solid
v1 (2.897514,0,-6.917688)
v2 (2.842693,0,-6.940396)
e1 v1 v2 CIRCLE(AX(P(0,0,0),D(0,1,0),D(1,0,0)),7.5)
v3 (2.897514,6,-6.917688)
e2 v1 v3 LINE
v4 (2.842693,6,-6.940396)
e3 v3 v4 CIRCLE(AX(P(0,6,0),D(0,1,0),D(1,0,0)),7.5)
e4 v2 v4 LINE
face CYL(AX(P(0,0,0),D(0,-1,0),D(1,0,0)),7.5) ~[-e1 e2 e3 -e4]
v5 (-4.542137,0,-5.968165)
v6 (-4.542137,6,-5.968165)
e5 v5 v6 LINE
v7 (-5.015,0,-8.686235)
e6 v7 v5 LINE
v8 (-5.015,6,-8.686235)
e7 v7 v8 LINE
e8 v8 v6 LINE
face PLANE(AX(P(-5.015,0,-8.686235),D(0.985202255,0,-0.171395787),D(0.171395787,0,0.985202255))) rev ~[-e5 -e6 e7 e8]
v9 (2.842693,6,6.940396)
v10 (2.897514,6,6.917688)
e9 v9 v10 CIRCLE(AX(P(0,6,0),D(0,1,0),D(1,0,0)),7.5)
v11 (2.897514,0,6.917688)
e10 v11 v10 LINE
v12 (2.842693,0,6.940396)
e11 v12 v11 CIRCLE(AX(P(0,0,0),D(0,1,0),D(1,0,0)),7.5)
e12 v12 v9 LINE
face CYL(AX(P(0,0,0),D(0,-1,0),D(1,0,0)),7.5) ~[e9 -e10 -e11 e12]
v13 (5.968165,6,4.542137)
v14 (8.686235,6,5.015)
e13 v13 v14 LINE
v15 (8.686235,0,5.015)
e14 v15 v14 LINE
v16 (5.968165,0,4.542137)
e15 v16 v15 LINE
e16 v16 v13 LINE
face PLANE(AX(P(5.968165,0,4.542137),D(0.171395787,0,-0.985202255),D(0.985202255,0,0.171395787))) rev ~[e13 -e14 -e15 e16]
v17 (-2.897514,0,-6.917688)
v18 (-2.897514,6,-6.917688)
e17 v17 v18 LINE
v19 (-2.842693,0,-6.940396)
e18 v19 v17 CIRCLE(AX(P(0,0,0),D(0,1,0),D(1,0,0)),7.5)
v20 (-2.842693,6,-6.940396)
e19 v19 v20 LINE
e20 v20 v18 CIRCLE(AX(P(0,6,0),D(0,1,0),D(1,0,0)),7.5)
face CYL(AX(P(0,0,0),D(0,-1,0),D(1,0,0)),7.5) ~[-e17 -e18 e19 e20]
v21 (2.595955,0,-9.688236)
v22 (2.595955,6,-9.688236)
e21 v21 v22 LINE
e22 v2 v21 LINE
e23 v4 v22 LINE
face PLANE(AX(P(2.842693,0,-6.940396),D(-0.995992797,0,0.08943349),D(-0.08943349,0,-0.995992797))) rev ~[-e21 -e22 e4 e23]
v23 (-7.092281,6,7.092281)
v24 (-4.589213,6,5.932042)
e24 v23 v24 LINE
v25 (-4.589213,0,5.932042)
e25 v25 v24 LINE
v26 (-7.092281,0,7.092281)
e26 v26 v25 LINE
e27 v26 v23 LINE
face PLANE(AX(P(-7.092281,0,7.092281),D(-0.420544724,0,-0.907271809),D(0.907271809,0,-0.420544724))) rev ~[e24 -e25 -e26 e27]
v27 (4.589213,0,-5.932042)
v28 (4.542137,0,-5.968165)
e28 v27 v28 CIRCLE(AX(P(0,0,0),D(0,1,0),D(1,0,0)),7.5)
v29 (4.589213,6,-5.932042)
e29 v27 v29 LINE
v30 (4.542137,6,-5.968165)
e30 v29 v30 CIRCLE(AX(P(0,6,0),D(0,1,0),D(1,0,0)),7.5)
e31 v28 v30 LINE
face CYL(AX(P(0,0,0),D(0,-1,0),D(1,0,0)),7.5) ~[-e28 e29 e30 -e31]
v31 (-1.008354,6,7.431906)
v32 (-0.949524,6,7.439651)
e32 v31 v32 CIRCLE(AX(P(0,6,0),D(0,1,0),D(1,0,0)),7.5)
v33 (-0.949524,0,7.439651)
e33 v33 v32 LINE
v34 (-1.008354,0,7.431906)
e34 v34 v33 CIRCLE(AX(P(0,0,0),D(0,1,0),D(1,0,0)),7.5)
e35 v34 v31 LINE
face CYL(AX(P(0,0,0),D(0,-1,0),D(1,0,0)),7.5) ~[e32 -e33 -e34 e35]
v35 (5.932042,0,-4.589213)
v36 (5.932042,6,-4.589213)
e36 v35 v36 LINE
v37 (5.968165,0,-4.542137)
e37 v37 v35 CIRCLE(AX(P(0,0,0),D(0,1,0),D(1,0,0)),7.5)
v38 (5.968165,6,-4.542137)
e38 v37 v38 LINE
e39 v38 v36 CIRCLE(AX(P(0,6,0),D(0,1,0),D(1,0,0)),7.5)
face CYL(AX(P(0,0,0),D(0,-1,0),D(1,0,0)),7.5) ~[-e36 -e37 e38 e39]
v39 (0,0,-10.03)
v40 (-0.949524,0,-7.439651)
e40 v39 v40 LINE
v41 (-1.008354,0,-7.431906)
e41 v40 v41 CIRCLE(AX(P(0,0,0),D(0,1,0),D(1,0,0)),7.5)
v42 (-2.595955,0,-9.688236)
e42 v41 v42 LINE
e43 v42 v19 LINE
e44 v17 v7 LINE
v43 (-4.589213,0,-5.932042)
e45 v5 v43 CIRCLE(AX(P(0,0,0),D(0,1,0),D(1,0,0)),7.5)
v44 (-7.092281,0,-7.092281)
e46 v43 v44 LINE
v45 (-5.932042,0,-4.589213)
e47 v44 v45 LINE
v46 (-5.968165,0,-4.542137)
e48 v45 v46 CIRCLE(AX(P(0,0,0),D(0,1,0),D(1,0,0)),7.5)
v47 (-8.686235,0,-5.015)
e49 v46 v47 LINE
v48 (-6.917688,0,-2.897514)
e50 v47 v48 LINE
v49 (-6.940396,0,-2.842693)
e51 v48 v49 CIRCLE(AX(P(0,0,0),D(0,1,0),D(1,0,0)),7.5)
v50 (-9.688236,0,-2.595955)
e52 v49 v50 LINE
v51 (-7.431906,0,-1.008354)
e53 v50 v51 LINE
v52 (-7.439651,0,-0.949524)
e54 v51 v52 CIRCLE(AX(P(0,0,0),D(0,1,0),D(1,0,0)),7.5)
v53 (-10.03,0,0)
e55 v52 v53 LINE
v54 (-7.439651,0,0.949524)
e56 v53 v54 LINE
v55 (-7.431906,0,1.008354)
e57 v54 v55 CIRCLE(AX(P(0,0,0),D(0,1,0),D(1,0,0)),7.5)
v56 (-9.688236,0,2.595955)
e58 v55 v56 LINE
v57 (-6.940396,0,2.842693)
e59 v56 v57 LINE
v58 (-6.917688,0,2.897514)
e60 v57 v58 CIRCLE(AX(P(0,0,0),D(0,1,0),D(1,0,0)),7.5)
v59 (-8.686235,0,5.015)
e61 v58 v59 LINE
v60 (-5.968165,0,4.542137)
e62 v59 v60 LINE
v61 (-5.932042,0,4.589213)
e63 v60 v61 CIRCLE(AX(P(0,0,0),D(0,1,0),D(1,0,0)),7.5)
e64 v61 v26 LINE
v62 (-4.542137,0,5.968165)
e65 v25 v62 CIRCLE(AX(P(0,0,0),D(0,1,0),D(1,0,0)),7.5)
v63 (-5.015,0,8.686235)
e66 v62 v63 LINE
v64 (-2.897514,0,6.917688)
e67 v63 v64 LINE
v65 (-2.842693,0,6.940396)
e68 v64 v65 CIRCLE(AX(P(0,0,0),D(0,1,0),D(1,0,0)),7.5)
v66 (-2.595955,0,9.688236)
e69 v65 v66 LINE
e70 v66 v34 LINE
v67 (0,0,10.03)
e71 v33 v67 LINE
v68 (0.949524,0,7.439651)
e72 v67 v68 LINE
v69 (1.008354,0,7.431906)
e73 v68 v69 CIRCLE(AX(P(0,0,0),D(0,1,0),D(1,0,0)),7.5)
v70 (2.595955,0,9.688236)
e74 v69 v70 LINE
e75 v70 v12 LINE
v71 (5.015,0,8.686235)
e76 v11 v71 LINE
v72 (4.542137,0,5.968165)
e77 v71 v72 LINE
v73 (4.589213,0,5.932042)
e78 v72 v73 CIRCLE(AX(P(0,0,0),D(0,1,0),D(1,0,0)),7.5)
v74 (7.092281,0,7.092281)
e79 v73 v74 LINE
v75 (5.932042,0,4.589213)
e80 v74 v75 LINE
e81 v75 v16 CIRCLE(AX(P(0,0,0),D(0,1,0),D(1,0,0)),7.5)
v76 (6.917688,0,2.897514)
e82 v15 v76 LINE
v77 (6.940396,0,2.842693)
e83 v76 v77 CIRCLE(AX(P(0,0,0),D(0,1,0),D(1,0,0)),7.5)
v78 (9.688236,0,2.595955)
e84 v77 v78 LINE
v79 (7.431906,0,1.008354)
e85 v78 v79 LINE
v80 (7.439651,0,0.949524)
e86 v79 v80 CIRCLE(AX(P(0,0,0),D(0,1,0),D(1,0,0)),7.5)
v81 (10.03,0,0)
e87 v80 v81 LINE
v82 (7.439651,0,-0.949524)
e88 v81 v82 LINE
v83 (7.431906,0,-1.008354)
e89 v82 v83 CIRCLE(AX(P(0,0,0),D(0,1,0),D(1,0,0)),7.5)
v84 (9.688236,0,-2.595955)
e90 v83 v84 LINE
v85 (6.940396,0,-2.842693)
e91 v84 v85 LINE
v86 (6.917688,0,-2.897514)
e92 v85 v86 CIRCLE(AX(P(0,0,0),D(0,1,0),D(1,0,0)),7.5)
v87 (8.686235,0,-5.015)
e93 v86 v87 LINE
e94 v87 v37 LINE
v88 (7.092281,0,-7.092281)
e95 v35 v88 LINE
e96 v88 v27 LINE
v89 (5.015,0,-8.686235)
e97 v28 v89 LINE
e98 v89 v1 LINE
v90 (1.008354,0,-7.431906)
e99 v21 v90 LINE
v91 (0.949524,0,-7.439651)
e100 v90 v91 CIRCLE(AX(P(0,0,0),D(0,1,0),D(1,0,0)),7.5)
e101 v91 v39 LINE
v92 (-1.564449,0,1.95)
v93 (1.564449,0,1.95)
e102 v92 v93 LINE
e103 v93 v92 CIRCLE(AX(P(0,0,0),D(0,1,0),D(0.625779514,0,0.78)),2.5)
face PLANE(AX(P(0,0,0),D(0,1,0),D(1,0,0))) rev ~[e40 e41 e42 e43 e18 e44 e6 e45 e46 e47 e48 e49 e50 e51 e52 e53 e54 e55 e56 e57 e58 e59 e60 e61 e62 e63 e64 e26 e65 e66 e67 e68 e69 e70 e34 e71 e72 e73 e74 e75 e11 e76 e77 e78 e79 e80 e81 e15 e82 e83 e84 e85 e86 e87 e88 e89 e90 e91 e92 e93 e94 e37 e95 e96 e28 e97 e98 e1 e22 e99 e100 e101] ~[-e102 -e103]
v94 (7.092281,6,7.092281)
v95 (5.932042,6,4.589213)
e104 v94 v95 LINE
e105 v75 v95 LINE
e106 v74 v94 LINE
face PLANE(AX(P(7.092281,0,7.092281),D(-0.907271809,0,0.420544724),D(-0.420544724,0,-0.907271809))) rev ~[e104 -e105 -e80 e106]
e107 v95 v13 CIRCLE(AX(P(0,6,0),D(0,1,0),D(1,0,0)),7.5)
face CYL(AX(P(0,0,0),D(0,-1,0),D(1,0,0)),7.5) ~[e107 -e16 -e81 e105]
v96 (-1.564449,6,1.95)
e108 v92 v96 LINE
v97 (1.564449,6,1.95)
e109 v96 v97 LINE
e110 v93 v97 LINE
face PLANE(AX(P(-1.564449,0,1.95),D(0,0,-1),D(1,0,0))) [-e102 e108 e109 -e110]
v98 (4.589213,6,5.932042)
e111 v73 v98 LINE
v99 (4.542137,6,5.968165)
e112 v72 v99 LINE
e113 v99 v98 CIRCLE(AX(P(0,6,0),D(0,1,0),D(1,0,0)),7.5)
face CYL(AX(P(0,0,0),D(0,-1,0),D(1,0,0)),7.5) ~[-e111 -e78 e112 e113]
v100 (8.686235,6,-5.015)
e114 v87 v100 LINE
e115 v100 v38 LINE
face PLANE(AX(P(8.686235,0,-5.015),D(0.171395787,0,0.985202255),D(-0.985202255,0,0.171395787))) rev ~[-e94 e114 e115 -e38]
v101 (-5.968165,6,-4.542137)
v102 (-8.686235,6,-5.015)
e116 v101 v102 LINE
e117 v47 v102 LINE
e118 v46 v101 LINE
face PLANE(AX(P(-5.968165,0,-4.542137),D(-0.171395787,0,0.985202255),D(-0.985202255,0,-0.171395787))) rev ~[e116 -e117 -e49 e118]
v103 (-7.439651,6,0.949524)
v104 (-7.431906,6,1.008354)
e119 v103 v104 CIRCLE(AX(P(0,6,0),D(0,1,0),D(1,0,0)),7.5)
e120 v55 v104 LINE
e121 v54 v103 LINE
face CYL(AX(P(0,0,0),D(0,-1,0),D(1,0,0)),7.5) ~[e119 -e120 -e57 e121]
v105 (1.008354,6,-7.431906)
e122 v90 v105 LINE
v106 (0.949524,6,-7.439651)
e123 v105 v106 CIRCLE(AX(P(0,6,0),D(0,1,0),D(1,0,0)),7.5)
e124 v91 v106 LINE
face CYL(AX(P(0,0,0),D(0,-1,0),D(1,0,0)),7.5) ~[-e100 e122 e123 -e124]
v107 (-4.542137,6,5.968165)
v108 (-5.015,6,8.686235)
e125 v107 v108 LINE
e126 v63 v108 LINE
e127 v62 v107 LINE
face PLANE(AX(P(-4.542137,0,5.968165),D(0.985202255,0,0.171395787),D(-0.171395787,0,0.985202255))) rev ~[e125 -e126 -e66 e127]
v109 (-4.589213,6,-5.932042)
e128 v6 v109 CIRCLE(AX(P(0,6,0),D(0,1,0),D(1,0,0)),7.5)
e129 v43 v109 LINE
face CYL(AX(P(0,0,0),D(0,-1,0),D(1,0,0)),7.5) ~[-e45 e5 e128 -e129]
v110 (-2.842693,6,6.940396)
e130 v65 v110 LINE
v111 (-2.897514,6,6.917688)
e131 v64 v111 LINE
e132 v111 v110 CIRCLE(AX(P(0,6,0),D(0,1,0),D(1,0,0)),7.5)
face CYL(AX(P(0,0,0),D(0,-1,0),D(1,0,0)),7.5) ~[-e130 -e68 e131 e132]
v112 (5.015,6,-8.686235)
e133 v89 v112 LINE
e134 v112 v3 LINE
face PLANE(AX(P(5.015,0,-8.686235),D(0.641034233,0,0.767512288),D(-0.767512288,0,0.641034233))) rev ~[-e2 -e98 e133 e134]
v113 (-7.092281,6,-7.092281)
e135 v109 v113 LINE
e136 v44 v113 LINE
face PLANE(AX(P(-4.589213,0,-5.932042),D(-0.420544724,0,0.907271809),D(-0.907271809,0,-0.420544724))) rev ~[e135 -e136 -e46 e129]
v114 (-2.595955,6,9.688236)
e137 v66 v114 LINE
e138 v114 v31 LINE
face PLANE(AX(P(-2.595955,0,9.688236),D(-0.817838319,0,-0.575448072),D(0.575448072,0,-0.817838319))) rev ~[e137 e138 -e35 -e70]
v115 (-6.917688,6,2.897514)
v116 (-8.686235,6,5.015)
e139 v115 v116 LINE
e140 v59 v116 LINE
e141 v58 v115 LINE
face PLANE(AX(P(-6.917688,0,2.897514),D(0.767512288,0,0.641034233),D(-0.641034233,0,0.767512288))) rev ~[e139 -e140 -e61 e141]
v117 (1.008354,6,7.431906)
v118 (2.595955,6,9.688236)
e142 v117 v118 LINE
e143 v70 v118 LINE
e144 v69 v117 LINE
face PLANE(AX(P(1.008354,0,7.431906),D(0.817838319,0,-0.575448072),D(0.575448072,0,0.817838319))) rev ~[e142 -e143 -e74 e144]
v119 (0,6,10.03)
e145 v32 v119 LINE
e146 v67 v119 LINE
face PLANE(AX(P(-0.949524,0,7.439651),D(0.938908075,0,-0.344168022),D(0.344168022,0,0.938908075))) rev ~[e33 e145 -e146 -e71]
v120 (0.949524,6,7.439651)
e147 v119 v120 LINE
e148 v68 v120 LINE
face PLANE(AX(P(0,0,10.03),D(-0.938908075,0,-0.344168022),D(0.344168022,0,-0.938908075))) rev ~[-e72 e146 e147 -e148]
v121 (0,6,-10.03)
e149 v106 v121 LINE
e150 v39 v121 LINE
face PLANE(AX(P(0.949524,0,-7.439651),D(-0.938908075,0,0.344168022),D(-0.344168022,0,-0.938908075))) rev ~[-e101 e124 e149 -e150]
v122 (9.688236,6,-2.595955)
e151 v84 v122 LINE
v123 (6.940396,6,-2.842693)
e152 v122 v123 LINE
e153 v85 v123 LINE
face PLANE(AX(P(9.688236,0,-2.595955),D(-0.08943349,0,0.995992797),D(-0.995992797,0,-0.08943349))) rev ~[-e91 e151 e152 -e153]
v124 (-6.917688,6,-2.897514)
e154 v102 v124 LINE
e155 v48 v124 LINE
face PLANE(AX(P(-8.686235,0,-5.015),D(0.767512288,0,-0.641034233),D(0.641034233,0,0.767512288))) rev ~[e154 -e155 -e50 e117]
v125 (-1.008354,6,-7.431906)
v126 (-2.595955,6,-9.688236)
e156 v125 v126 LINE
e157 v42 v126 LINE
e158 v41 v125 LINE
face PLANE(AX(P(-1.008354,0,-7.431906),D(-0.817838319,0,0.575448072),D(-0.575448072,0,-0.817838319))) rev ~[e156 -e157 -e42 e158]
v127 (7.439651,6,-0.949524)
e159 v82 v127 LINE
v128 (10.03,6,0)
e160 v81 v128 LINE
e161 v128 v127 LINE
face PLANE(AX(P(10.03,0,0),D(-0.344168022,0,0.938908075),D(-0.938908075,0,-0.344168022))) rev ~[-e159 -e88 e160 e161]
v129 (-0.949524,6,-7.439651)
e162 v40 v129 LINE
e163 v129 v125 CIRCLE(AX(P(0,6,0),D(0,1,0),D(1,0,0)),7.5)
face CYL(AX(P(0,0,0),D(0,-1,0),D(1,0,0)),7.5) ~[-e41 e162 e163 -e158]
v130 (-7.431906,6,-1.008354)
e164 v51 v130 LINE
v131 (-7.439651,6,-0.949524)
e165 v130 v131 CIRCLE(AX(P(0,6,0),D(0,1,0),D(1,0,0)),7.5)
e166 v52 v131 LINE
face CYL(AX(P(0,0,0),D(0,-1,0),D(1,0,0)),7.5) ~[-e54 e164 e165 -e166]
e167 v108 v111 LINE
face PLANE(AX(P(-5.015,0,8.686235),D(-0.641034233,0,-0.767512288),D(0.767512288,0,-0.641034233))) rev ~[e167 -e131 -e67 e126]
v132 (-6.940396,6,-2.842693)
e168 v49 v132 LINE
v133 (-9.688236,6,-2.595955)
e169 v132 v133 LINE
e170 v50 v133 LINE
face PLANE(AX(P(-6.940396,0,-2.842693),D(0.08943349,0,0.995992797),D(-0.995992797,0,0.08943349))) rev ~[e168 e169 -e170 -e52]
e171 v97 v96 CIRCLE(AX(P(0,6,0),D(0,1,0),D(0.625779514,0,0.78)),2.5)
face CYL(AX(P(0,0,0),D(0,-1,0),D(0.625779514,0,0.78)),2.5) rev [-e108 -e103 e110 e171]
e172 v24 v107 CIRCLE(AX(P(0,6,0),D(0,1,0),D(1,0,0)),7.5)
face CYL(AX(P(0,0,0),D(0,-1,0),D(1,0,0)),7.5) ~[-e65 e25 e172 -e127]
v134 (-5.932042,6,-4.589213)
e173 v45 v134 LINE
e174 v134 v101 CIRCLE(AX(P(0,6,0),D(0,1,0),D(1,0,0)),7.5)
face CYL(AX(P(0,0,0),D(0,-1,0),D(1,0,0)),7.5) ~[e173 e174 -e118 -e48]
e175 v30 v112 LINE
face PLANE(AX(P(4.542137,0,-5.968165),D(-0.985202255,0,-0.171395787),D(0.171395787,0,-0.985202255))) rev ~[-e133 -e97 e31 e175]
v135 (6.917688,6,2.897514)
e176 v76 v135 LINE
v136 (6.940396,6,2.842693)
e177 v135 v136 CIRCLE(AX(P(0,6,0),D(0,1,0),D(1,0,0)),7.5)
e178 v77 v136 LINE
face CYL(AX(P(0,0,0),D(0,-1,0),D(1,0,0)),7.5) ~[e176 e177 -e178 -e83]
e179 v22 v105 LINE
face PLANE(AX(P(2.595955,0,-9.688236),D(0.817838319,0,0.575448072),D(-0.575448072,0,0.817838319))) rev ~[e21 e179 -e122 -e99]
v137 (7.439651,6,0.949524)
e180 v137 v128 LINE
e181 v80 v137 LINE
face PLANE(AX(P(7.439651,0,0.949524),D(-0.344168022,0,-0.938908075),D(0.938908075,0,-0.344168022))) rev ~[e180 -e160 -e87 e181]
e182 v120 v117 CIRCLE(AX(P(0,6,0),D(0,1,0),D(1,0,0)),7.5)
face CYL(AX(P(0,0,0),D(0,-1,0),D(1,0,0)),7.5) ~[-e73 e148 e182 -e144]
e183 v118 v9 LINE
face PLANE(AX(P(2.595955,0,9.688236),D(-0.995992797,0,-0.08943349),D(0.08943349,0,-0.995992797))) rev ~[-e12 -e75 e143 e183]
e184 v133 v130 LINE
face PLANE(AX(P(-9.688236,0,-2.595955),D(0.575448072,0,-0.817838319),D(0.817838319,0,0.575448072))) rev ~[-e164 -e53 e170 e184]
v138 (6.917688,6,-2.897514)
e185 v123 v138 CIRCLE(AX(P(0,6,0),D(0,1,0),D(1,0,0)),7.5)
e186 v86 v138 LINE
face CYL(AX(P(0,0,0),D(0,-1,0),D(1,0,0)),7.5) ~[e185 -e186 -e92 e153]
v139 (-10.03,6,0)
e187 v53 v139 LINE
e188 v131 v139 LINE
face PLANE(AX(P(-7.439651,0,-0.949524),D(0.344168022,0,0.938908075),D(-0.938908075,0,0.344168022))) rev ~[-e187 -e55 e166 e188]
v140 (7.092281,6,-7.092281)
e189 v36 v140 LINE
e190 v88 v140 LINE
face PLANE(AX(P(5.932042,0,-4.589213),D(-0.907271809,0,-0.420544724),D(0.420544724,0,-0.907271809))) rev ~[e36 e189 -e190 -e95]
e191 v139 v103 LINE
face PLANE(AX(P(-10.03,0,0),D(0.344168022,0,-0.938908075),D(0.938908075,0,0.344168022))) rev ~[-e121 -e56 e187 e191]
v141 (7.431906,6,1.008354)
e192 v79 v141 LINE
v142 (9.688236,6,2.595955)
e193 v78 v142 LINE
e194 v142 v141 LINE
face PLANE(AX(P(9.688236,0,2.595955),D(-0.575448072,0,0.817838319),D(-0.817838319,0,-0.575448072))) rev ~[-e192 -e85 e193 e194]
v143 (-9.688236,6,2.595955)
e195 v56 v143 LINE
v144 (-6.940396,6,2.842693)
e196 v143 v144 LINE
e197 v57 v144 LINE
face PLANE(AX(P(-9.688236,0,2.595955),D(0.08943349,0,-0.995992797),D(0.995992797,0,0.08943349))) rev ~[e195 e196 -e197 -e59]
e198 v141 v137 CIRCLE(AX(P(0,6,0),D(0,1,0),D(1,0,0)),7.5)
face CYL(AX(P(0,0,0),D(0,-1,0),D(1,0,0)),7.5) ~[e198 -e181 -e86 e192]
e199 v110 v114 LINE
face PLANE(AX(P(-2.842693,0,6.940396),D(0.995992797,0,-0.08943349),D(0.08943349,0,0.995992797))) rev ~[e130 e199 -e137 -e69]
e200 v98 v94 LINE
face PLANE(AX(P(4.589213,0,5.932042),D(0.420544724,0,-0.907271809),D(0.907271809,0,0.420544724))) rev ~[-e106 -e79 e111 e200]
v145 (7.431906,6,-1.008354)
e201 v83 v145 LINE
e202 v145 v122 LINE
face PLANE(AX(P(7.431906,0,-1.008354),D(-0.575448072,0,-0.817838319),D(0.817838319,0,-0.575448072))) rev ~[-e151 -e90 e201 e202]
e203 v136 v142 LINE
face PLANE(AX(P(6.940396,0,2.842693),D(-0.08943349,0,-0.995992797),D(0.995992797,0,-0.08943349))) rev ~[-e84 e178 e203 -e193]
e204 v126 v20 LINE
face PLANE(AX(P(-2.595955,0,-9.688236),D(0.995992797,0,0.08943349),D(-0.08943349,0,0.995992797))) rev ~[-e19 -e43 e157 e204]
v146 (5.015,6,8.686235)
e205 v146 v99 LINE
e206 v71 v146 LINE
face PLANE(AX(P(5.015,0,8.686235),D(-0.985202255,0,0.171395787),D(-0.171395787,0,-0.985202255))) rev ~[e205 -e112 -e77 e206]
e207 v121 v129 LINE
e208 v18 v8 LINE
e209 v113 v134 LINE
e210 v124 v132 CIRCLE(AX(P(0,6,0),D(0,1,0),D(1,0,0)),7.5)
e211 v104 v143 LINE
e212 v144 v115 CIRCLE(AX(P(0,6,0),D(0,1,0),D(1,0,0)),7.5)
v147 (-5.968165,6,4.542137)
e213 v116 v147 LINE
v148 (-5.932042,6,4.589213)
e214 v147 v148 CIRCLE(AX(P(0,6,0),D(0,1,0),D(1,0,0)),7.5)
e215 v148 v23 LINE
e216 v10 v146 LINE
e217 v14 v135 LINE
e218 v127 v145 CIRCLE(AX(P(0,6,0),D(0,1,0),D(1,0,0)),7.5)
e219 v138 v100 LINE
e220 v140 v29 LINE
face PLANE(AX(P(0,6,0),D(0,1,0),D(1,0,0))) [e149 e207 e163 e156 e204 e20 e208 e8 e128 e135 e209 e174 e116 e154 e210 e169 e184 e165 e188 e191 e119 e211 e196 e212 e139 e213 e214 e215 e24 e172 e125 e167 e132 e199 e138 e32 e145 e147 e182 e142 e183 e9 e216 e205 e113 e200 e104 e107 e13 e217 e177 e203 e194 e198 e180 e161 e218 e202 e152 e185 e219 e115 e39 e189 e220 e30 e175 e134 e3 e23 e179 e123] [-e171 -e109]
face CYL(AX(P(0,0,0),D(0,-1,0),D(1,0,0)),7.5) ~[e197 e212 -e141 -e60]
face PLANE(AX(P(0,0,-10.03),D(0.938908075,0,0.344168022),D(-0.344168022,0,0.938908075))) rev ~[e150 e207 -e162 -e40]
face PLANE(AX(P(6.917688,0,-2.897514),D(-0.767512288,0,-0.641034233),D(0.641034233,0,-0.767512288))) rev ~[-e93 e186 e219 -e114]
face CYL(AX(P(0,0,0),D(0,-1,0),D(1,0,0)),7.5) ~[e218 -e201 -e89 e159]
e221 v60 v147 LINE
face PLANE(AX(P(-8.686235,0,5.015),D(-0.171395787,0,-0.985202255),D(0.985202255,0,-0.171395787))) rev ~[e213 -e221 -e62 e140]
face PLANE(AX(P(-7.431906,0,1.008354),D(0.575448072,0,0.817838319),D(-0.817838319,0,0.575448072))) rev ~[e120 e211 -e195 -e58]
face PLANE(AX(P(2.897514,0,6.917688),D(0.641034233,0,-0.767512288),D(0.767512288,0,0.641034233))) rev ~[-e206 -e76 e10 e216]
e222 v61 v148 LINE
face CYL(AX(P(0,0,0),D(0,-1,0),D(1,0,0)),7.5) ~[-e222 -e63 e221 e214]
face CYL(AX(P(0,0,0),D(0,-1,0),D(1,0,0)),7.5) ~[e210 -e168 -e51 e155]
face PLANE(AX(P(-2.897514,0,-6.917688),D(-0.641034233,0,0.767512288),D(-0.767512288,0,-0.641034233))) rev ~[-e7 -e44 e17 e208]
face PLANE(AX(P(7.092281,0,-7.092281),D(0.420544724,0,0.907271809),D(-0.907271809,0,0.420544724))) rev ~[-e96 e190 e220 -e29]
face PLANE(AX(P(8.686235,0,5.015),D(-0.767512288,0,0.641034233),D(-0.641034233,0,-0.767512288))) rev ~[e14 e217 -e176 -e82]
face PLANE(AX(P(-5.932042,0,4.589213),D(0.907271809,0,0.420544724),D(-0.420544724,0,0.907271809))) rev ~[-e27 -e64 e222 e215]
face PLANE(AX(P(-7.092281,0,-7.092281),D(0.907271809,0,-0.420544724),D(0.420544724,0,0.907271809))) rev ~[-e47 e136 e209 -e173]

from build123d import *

# Parameters (mm, degrees)
SKETCH_1_R      = 7.5
EXTRUDE_2_DEPTH = 6


with BuildPart() as part:
    # Эскиз1 → Бобышка-Вытянуть2 (new body)
    # profile 1 of 25: a face of its own
    with BuildSketch(Plane(origin=(0, 0, 0), x_dir=(1, 0, 0), z_dir=(0, 1, 0))):
        Circle(SKETCH_1_R)
        with BuildLine():
            Line((-1.564448785, -1.95), (1.564448785, -1.95))
            ThreePointArc((1.564448785, -1.95), (0, 2.5), (-1.564448785, -1.95))
        make_face(mode=Mode.SUBTRACT)
    # profile 2 of 25: a face of its own
    with BuildSketch(Plane(origin=(0, 0, 0), x_dir=(1, 0, 0), z_dir=(0, 1, 0))):
        with BuildLine():
            Line((0, 10.03), (-0.949523561, 7.439650866))
            ThreePointArc((-0.949523561, 7.439650866), (0, 7.5), (0.949523561, 7.439650866))
            Line((0.949523561, 7.439650866), (0, 10.03))
        make_face()
    # profile 3 of 25: a face of its own
    with BuildSketch(Plane(origin=(0, 0, 0), x_dir=(1, 0, 0), z_dir=(0, 1, 0))):
        with BuildLine():
            ThreePointArc((-2.842692663, 6.940396129), (-1.941142838, 7.244443697), (-1.008354003, 7.431905691))
            Line((-1.008354003, 7.431905691), (-2.595955022, 9.688236038))
            Line((-2.595955022, 9.688236038), (-2.842692663, 6.940396129))
        make_face()
    # profile 4 of 25: a face of its own
    with BuildSketch(Plane(origin=(0, 0, 0), x_dir=(1, 0, 0), z_dir=(0, 1, 0))):
        with BuildLine():
            ThreePointArc((-4.542136958, 5.968164865), (-3.75, 6.495190528), (-2.897513908, 6.917688426))
            Line((-2.897513908, 6.917688426), (-5.015, 8.6862348))
            Line((-5.015, 8.6862348), (-4.542136958, 5.968164865))
        make_face()
    # profile 5 of 25: a face of its own
    with BuildSketch(Plane(origin=(0, 0, 0), x_dir=(1, 0, 0), z_dir=(0, 1, 0))):
        with BuildLine():
            ThreePointArc((-5.932042126, 4.589213028), (-5.303300859, 5.303300859), (-4.589213028, 5.932042126))
            Line((-4.589213028, 5.932042126), (-7.092281015, 7.092281015))
            Line((-7.092281015, 7.092281015), (-5.932042126, 4.589213028))
        make_face()
    # profile 6 of 25: a face of its own
    with BuildSketch(Plane(origin=(0, 0, 0), x_dir=(1, 0, 0), z_dir=(0, 1, 0))):
        with BuildLine():
            ThreePointArc((-6.917688426, 2.897513908), (-6.495190528, 3.75), (-5.968164865, 4.542136958))
            Line((-5.968164865, 4.542136958), (-8.6862348, 5.015))
            Line((-8.6862348, 5.015), (-6.917688426, 2.897513908))
        make_face()
    # profile 7 of 25: a face of its own
    with BuildSketch(Plane(origin=(0, 0, 0), x_dir=(1, 0, 0), z_dir=(0, 1, 0))):
        with BuildLine():
            ThreePointArc((-7.431905691, 1.008354003), (-7.244443697, 1.941142838), (-6.940396129, 2.842692663))
            Line((-6.940396129, 2.842692663), (-9.688236038, 2.595955022))
            Line((-9.688236038, 2.595955022), (-7.431905691, 1.008354003))
        make_face()
    # profile 8 of 25: a face of its own
    with BuildSketch(Plane(origin=(0, 0, 0), x_dir=(1, 0, 0), z_dir=(0, 1, 0))):
        with BuildLine():
            ThreePointArc((-7.439650866, -0.949523561), (-7.5, 0), (-7.439650866, 0.949523561))
            Line((-7.439650866, 0.949523561), (-10.03, 0))
            Line((-10.03, 0), (-7.439650866, -0.949523561))
        make_face()
    # profile 9 of 25: a face of its own
    with BuildSketch(Plane(origin=(0, 0, 0), x_dir=(1, 0, 0), z_dir=(0, 1, 0))):
        with BuildLine():
            ThreePointArc((-6.940396129, -2.842692663), (-7.244443697, -1.941142838), (-7.431905691, -1.008354003))
            Line((-7.431905691, -1.008354003), (-9.688236038, -2.595955022))
            Line((-9.688236038, -2.595955022), (-6.940396129, -2.842692663))
        make_face()
    # profile 10 of 25: a face of its own
    with BuildSketch(Plane(origin=(0, 0, 0), x_dir=(1, 0, 0), z_dir=(0, 1, 0))):
        with BuildLine():
            ThreePointArc((-5.968164865, -4.542136958), (-6.495190528, -3.75), (-6.917688426, -2.897513908))
            Line((-6.917688426, -2.897513908), (-8.6862348, -5.015))
            Line((-8.6862348, -5.015), (-5.968164865, -4.542136958))
        make_face()
    # profile 11 of 25: a face of its own
    with BuildSketch(Plane(origin=(0, 0, 0), x_dir=(1, 0, 0), z_dir=(0, 1, 0))):
        with BuildLine():
            ThreePointArc((-4.589213028, -5.932042126), (-5.303300859, -5.303300859), (-5.932042126, -4.589213028))
            Line((-5.932042126, -4.589213028), (-7.092281015, -7.092281015))
            Line((-7.092281015, -7.092281015), (-4.589213028, -5.932042126))
        make_face()
    # profile 12 of 25: a face of its own
    with BuildSketch(Plane(origin=(0, 0, 0), x_dir=(1, 0, 0), z_dir=(0, 1, 0))):
        with BuildLine():
            ThreePointArc((-2.897513908, -6.917688426), (-3.75, -6.495190528), (-4.542136958, -5.968164865))
            Line((-4.542136958, -5.968164865), (-5.015, -8.6862348))
            Line((-5.015, -8.6862348), (-2.897513908, -6.917688426))
        make_face()
    # profile 13 of 25: a face of its own
    with BuildSketch(Plane(origin=(0, 0, 0), x_dir=(1, 0, 0), z_dir=(0, 1, 0))):
        with BuildLine():
            ThreePointArc((-1.008354003, -7.431905691), (-1.941142838, -7.244443697), (-2.842692663, -6.940396129))
            Line((-2.842692663, -6.940396129), (-2.595955022, -9.688236038))
            Line((-2.595955022, -9.688236038), (-1.008354003, -7.431905691))
        make_face()
    # profile 14 of 25: a face of its own
    with BuildSketch(Plane(origin=(0, 0, 0), x_dir=(1, 0, 0), z_dir=(0, 1, 0))):
        with BuildLine():
            ThreePointArc((0.949523561, -7.439650866), (0, -7.5), (-0.949523561, -7.439650866))
            Line((-0.949523561, -7.439650866), (0, -10.03))
            Line((0, -10.03), (0.949523561, -7.439650866))
        make_face()
    # profile 15 of 25: a face of its own
    with BuildSketch(Plane(origin=(0, 0, 0), x_dir=(1, 0, 0), z_dir=(0, 1, 0))):
        with BuildLine():
            Line((2.595955022, -9.688236038), (2.842692663, -6.940396129))
            ThreePointArc((2.842692663, -6.940396129), (1.941142838, -7.244443697), (1.008354003, -7.431905691))
            Line((1.008354003, -7.431905691), (2.595955022, -9.688236038))
        make_face()
    # profile 16 of 25: a face of its own
    with BuildSketch(Plane(origin=(0, 0, 0), x_dir=(1, 0, 0), z_dir=(0, 1, 0))):
        with BuildLine():
            Line((5.015, -8.6862348), (4.542136958, -5.968164865))
            ThreePointArc((4.542136958, -5.968164865), (3.75, -6.495190528), (2.897513908, -6.917688426))
            Line((2.897513908, -6.917688426), (5.015, -8.6862348))
        make_face()
    # profile 17 of 25: a face of its own
    with BuildSketch(Plane(origin=(0, 0, 0), x_dir=(1, 0, 0), z_dir=(0, 1, 0))):
        with BuildLine():
            Line((7.092281015, -7.092281015), (5.932042126, -4.589213028))
            ThreePointArc((5.932042126, -4.589213028), (5.303300859, -5.303300859), (4.589213028, -5.932042126))
            Line((4.589213028, -5.932042126), (7.092281015, -7.092281015))
        make_face()
    # profile 18 of 25: a face of its own
    with BuildSketch(Plane(origin=(0, 0, 0), x_dir=(1, 0, 0), z_dir=(0, 1, 0))):
        with BuildLine():
            Line((8.6862348, -5.015), (6.917688426, -2.897513908))
            ThreePointArc((6.917688426, -2.897513908), (6.495190528, -3.75), (5.968164865, -4.542136958))
            Line((5.968164865, -4.542136958), (8.6862348, -5.015))
        make_face()
    # profile 19 of 25: a face of its own
    with BuildSketch(Plane(origin=(0, 0, 0), x_dir=(1, 0, 0), z_dir=(0, 1, 0))):
        with BuildLine():
            Line((9.688236038, -2.595955022), (7.431905691, -1.008354003))
            ThreePointArc((7.431905691, -1.008354003), (7.244443697, -1.941142838), (6.940396129, -2.842692663))
            Line((6.940396129, -2.842692663), (9.688236038, -2.595955022))
        make_face()
    # profile 20 of 25: a face of its own
    with BuildSketch(Plane(origin=(0, 0, 0), x_dir=(1, 0, 0), z_dir=(0, 1, 0))):
        with BuildLine():
            Line((10.03, 0), (7.439650866, 0.949523561))
            ThreePointArc((7.439650866, 0.949523561), (7.484897511, 0.475719721), (7.5, 0))
            ThreePointArc((7.5, 0), (7.484897511, -0.475719721), (7.439650866, -0.949523561))
            Line((7.439650866, -0.949523561), (10.03, 0))
        make_face()
    # profile 21 of 25: a face of its own
    with BuildSketch(Plane(origin=(0, 0, 0), x_dir=(1, 0, 0), z_dir=(0, 1, 0))):
        with BuildLine():
            Line((9.688236038, 2.595955022), (6.940396129, 2.842692663))
            ThreePointArc((6.940396129, 2.842692663), (7.244443697, 1.941142838), (7.431905691, 1.008354003))
            Line((7.431905691, 1.008354003), (9.688236038, 2.595955022))
        make_face()
    # profile 22 of 25: a face of its own
    with BuildSketch(Plane(origin=(0, 0, 0), x_dir=(1, 0, 0), z_dir=(0, 1, 0))):
        with BuildLine():
            Line((8.6862348, 5.015), (5.968164865, 4.542136958))
            ThreePointArc((5.968164865, 4.542136958), (6.495190528, 3.75), (6.917688426, 2.897513908))
            Line((6.917688426, 2.897513908), (8.6862348, 5.015))
        make_face()
    # profile 23 of 25: a face of its own
    with BuildSketch(Plane(origin=(0, 0, 0), x_dir=(1, 0, 0), z_dir=(0, 1, 0))):
        with BuildLine():
            Line((7.092281015, 7.092281015), (4.589213028, 5.932042126))
            ThreePointArc((4.589213028, 5.932042126), (5.303300859, 5.303300859), (5.932042126, 4.589213028))
            Line((5.932042126, 4.589213028), (7.092281015, 7.092281015))
        make_face()
    # profile 24 of 25: a face of its own
    with BuildSketch(Plane(origin=(0, 0, 0), x_dir=(1, 0, 0), z_dir=(0, 1, 0))):
        with BuildLine():
            Line((5.015, 8.6862348), (2.897513908, 6.917688426))
            ThreePointArc((2.897513908, 6.917688426), (3.75, 6.495190528), (4.542136958, 5.968164865))
            Line((4.542136958, 5.968164865), (5.015, 8.6862348))
        make_face()
    # profile 25 of 25: a face of its own
    with BuildSketch(Plane(origin=(0, 0, 0), x_dir=(1, 0, 0), z_dir=(0, 1, 0))):
        with BuildLine():
            Line((2.595955022, 9.688236038), (1.008354003, 7.431905691))
            ThreePointArc((1.008354003, 7.431905691), (1.941142838, 7.244443697), (2.842692663, 6.940396129))
            Line((2.842692663, 6.940396129), (2.595955022, 9.688236038))
        make_face()
    extrude(amount=EXTRUDE_2_DEPTH)


solid = part.part
